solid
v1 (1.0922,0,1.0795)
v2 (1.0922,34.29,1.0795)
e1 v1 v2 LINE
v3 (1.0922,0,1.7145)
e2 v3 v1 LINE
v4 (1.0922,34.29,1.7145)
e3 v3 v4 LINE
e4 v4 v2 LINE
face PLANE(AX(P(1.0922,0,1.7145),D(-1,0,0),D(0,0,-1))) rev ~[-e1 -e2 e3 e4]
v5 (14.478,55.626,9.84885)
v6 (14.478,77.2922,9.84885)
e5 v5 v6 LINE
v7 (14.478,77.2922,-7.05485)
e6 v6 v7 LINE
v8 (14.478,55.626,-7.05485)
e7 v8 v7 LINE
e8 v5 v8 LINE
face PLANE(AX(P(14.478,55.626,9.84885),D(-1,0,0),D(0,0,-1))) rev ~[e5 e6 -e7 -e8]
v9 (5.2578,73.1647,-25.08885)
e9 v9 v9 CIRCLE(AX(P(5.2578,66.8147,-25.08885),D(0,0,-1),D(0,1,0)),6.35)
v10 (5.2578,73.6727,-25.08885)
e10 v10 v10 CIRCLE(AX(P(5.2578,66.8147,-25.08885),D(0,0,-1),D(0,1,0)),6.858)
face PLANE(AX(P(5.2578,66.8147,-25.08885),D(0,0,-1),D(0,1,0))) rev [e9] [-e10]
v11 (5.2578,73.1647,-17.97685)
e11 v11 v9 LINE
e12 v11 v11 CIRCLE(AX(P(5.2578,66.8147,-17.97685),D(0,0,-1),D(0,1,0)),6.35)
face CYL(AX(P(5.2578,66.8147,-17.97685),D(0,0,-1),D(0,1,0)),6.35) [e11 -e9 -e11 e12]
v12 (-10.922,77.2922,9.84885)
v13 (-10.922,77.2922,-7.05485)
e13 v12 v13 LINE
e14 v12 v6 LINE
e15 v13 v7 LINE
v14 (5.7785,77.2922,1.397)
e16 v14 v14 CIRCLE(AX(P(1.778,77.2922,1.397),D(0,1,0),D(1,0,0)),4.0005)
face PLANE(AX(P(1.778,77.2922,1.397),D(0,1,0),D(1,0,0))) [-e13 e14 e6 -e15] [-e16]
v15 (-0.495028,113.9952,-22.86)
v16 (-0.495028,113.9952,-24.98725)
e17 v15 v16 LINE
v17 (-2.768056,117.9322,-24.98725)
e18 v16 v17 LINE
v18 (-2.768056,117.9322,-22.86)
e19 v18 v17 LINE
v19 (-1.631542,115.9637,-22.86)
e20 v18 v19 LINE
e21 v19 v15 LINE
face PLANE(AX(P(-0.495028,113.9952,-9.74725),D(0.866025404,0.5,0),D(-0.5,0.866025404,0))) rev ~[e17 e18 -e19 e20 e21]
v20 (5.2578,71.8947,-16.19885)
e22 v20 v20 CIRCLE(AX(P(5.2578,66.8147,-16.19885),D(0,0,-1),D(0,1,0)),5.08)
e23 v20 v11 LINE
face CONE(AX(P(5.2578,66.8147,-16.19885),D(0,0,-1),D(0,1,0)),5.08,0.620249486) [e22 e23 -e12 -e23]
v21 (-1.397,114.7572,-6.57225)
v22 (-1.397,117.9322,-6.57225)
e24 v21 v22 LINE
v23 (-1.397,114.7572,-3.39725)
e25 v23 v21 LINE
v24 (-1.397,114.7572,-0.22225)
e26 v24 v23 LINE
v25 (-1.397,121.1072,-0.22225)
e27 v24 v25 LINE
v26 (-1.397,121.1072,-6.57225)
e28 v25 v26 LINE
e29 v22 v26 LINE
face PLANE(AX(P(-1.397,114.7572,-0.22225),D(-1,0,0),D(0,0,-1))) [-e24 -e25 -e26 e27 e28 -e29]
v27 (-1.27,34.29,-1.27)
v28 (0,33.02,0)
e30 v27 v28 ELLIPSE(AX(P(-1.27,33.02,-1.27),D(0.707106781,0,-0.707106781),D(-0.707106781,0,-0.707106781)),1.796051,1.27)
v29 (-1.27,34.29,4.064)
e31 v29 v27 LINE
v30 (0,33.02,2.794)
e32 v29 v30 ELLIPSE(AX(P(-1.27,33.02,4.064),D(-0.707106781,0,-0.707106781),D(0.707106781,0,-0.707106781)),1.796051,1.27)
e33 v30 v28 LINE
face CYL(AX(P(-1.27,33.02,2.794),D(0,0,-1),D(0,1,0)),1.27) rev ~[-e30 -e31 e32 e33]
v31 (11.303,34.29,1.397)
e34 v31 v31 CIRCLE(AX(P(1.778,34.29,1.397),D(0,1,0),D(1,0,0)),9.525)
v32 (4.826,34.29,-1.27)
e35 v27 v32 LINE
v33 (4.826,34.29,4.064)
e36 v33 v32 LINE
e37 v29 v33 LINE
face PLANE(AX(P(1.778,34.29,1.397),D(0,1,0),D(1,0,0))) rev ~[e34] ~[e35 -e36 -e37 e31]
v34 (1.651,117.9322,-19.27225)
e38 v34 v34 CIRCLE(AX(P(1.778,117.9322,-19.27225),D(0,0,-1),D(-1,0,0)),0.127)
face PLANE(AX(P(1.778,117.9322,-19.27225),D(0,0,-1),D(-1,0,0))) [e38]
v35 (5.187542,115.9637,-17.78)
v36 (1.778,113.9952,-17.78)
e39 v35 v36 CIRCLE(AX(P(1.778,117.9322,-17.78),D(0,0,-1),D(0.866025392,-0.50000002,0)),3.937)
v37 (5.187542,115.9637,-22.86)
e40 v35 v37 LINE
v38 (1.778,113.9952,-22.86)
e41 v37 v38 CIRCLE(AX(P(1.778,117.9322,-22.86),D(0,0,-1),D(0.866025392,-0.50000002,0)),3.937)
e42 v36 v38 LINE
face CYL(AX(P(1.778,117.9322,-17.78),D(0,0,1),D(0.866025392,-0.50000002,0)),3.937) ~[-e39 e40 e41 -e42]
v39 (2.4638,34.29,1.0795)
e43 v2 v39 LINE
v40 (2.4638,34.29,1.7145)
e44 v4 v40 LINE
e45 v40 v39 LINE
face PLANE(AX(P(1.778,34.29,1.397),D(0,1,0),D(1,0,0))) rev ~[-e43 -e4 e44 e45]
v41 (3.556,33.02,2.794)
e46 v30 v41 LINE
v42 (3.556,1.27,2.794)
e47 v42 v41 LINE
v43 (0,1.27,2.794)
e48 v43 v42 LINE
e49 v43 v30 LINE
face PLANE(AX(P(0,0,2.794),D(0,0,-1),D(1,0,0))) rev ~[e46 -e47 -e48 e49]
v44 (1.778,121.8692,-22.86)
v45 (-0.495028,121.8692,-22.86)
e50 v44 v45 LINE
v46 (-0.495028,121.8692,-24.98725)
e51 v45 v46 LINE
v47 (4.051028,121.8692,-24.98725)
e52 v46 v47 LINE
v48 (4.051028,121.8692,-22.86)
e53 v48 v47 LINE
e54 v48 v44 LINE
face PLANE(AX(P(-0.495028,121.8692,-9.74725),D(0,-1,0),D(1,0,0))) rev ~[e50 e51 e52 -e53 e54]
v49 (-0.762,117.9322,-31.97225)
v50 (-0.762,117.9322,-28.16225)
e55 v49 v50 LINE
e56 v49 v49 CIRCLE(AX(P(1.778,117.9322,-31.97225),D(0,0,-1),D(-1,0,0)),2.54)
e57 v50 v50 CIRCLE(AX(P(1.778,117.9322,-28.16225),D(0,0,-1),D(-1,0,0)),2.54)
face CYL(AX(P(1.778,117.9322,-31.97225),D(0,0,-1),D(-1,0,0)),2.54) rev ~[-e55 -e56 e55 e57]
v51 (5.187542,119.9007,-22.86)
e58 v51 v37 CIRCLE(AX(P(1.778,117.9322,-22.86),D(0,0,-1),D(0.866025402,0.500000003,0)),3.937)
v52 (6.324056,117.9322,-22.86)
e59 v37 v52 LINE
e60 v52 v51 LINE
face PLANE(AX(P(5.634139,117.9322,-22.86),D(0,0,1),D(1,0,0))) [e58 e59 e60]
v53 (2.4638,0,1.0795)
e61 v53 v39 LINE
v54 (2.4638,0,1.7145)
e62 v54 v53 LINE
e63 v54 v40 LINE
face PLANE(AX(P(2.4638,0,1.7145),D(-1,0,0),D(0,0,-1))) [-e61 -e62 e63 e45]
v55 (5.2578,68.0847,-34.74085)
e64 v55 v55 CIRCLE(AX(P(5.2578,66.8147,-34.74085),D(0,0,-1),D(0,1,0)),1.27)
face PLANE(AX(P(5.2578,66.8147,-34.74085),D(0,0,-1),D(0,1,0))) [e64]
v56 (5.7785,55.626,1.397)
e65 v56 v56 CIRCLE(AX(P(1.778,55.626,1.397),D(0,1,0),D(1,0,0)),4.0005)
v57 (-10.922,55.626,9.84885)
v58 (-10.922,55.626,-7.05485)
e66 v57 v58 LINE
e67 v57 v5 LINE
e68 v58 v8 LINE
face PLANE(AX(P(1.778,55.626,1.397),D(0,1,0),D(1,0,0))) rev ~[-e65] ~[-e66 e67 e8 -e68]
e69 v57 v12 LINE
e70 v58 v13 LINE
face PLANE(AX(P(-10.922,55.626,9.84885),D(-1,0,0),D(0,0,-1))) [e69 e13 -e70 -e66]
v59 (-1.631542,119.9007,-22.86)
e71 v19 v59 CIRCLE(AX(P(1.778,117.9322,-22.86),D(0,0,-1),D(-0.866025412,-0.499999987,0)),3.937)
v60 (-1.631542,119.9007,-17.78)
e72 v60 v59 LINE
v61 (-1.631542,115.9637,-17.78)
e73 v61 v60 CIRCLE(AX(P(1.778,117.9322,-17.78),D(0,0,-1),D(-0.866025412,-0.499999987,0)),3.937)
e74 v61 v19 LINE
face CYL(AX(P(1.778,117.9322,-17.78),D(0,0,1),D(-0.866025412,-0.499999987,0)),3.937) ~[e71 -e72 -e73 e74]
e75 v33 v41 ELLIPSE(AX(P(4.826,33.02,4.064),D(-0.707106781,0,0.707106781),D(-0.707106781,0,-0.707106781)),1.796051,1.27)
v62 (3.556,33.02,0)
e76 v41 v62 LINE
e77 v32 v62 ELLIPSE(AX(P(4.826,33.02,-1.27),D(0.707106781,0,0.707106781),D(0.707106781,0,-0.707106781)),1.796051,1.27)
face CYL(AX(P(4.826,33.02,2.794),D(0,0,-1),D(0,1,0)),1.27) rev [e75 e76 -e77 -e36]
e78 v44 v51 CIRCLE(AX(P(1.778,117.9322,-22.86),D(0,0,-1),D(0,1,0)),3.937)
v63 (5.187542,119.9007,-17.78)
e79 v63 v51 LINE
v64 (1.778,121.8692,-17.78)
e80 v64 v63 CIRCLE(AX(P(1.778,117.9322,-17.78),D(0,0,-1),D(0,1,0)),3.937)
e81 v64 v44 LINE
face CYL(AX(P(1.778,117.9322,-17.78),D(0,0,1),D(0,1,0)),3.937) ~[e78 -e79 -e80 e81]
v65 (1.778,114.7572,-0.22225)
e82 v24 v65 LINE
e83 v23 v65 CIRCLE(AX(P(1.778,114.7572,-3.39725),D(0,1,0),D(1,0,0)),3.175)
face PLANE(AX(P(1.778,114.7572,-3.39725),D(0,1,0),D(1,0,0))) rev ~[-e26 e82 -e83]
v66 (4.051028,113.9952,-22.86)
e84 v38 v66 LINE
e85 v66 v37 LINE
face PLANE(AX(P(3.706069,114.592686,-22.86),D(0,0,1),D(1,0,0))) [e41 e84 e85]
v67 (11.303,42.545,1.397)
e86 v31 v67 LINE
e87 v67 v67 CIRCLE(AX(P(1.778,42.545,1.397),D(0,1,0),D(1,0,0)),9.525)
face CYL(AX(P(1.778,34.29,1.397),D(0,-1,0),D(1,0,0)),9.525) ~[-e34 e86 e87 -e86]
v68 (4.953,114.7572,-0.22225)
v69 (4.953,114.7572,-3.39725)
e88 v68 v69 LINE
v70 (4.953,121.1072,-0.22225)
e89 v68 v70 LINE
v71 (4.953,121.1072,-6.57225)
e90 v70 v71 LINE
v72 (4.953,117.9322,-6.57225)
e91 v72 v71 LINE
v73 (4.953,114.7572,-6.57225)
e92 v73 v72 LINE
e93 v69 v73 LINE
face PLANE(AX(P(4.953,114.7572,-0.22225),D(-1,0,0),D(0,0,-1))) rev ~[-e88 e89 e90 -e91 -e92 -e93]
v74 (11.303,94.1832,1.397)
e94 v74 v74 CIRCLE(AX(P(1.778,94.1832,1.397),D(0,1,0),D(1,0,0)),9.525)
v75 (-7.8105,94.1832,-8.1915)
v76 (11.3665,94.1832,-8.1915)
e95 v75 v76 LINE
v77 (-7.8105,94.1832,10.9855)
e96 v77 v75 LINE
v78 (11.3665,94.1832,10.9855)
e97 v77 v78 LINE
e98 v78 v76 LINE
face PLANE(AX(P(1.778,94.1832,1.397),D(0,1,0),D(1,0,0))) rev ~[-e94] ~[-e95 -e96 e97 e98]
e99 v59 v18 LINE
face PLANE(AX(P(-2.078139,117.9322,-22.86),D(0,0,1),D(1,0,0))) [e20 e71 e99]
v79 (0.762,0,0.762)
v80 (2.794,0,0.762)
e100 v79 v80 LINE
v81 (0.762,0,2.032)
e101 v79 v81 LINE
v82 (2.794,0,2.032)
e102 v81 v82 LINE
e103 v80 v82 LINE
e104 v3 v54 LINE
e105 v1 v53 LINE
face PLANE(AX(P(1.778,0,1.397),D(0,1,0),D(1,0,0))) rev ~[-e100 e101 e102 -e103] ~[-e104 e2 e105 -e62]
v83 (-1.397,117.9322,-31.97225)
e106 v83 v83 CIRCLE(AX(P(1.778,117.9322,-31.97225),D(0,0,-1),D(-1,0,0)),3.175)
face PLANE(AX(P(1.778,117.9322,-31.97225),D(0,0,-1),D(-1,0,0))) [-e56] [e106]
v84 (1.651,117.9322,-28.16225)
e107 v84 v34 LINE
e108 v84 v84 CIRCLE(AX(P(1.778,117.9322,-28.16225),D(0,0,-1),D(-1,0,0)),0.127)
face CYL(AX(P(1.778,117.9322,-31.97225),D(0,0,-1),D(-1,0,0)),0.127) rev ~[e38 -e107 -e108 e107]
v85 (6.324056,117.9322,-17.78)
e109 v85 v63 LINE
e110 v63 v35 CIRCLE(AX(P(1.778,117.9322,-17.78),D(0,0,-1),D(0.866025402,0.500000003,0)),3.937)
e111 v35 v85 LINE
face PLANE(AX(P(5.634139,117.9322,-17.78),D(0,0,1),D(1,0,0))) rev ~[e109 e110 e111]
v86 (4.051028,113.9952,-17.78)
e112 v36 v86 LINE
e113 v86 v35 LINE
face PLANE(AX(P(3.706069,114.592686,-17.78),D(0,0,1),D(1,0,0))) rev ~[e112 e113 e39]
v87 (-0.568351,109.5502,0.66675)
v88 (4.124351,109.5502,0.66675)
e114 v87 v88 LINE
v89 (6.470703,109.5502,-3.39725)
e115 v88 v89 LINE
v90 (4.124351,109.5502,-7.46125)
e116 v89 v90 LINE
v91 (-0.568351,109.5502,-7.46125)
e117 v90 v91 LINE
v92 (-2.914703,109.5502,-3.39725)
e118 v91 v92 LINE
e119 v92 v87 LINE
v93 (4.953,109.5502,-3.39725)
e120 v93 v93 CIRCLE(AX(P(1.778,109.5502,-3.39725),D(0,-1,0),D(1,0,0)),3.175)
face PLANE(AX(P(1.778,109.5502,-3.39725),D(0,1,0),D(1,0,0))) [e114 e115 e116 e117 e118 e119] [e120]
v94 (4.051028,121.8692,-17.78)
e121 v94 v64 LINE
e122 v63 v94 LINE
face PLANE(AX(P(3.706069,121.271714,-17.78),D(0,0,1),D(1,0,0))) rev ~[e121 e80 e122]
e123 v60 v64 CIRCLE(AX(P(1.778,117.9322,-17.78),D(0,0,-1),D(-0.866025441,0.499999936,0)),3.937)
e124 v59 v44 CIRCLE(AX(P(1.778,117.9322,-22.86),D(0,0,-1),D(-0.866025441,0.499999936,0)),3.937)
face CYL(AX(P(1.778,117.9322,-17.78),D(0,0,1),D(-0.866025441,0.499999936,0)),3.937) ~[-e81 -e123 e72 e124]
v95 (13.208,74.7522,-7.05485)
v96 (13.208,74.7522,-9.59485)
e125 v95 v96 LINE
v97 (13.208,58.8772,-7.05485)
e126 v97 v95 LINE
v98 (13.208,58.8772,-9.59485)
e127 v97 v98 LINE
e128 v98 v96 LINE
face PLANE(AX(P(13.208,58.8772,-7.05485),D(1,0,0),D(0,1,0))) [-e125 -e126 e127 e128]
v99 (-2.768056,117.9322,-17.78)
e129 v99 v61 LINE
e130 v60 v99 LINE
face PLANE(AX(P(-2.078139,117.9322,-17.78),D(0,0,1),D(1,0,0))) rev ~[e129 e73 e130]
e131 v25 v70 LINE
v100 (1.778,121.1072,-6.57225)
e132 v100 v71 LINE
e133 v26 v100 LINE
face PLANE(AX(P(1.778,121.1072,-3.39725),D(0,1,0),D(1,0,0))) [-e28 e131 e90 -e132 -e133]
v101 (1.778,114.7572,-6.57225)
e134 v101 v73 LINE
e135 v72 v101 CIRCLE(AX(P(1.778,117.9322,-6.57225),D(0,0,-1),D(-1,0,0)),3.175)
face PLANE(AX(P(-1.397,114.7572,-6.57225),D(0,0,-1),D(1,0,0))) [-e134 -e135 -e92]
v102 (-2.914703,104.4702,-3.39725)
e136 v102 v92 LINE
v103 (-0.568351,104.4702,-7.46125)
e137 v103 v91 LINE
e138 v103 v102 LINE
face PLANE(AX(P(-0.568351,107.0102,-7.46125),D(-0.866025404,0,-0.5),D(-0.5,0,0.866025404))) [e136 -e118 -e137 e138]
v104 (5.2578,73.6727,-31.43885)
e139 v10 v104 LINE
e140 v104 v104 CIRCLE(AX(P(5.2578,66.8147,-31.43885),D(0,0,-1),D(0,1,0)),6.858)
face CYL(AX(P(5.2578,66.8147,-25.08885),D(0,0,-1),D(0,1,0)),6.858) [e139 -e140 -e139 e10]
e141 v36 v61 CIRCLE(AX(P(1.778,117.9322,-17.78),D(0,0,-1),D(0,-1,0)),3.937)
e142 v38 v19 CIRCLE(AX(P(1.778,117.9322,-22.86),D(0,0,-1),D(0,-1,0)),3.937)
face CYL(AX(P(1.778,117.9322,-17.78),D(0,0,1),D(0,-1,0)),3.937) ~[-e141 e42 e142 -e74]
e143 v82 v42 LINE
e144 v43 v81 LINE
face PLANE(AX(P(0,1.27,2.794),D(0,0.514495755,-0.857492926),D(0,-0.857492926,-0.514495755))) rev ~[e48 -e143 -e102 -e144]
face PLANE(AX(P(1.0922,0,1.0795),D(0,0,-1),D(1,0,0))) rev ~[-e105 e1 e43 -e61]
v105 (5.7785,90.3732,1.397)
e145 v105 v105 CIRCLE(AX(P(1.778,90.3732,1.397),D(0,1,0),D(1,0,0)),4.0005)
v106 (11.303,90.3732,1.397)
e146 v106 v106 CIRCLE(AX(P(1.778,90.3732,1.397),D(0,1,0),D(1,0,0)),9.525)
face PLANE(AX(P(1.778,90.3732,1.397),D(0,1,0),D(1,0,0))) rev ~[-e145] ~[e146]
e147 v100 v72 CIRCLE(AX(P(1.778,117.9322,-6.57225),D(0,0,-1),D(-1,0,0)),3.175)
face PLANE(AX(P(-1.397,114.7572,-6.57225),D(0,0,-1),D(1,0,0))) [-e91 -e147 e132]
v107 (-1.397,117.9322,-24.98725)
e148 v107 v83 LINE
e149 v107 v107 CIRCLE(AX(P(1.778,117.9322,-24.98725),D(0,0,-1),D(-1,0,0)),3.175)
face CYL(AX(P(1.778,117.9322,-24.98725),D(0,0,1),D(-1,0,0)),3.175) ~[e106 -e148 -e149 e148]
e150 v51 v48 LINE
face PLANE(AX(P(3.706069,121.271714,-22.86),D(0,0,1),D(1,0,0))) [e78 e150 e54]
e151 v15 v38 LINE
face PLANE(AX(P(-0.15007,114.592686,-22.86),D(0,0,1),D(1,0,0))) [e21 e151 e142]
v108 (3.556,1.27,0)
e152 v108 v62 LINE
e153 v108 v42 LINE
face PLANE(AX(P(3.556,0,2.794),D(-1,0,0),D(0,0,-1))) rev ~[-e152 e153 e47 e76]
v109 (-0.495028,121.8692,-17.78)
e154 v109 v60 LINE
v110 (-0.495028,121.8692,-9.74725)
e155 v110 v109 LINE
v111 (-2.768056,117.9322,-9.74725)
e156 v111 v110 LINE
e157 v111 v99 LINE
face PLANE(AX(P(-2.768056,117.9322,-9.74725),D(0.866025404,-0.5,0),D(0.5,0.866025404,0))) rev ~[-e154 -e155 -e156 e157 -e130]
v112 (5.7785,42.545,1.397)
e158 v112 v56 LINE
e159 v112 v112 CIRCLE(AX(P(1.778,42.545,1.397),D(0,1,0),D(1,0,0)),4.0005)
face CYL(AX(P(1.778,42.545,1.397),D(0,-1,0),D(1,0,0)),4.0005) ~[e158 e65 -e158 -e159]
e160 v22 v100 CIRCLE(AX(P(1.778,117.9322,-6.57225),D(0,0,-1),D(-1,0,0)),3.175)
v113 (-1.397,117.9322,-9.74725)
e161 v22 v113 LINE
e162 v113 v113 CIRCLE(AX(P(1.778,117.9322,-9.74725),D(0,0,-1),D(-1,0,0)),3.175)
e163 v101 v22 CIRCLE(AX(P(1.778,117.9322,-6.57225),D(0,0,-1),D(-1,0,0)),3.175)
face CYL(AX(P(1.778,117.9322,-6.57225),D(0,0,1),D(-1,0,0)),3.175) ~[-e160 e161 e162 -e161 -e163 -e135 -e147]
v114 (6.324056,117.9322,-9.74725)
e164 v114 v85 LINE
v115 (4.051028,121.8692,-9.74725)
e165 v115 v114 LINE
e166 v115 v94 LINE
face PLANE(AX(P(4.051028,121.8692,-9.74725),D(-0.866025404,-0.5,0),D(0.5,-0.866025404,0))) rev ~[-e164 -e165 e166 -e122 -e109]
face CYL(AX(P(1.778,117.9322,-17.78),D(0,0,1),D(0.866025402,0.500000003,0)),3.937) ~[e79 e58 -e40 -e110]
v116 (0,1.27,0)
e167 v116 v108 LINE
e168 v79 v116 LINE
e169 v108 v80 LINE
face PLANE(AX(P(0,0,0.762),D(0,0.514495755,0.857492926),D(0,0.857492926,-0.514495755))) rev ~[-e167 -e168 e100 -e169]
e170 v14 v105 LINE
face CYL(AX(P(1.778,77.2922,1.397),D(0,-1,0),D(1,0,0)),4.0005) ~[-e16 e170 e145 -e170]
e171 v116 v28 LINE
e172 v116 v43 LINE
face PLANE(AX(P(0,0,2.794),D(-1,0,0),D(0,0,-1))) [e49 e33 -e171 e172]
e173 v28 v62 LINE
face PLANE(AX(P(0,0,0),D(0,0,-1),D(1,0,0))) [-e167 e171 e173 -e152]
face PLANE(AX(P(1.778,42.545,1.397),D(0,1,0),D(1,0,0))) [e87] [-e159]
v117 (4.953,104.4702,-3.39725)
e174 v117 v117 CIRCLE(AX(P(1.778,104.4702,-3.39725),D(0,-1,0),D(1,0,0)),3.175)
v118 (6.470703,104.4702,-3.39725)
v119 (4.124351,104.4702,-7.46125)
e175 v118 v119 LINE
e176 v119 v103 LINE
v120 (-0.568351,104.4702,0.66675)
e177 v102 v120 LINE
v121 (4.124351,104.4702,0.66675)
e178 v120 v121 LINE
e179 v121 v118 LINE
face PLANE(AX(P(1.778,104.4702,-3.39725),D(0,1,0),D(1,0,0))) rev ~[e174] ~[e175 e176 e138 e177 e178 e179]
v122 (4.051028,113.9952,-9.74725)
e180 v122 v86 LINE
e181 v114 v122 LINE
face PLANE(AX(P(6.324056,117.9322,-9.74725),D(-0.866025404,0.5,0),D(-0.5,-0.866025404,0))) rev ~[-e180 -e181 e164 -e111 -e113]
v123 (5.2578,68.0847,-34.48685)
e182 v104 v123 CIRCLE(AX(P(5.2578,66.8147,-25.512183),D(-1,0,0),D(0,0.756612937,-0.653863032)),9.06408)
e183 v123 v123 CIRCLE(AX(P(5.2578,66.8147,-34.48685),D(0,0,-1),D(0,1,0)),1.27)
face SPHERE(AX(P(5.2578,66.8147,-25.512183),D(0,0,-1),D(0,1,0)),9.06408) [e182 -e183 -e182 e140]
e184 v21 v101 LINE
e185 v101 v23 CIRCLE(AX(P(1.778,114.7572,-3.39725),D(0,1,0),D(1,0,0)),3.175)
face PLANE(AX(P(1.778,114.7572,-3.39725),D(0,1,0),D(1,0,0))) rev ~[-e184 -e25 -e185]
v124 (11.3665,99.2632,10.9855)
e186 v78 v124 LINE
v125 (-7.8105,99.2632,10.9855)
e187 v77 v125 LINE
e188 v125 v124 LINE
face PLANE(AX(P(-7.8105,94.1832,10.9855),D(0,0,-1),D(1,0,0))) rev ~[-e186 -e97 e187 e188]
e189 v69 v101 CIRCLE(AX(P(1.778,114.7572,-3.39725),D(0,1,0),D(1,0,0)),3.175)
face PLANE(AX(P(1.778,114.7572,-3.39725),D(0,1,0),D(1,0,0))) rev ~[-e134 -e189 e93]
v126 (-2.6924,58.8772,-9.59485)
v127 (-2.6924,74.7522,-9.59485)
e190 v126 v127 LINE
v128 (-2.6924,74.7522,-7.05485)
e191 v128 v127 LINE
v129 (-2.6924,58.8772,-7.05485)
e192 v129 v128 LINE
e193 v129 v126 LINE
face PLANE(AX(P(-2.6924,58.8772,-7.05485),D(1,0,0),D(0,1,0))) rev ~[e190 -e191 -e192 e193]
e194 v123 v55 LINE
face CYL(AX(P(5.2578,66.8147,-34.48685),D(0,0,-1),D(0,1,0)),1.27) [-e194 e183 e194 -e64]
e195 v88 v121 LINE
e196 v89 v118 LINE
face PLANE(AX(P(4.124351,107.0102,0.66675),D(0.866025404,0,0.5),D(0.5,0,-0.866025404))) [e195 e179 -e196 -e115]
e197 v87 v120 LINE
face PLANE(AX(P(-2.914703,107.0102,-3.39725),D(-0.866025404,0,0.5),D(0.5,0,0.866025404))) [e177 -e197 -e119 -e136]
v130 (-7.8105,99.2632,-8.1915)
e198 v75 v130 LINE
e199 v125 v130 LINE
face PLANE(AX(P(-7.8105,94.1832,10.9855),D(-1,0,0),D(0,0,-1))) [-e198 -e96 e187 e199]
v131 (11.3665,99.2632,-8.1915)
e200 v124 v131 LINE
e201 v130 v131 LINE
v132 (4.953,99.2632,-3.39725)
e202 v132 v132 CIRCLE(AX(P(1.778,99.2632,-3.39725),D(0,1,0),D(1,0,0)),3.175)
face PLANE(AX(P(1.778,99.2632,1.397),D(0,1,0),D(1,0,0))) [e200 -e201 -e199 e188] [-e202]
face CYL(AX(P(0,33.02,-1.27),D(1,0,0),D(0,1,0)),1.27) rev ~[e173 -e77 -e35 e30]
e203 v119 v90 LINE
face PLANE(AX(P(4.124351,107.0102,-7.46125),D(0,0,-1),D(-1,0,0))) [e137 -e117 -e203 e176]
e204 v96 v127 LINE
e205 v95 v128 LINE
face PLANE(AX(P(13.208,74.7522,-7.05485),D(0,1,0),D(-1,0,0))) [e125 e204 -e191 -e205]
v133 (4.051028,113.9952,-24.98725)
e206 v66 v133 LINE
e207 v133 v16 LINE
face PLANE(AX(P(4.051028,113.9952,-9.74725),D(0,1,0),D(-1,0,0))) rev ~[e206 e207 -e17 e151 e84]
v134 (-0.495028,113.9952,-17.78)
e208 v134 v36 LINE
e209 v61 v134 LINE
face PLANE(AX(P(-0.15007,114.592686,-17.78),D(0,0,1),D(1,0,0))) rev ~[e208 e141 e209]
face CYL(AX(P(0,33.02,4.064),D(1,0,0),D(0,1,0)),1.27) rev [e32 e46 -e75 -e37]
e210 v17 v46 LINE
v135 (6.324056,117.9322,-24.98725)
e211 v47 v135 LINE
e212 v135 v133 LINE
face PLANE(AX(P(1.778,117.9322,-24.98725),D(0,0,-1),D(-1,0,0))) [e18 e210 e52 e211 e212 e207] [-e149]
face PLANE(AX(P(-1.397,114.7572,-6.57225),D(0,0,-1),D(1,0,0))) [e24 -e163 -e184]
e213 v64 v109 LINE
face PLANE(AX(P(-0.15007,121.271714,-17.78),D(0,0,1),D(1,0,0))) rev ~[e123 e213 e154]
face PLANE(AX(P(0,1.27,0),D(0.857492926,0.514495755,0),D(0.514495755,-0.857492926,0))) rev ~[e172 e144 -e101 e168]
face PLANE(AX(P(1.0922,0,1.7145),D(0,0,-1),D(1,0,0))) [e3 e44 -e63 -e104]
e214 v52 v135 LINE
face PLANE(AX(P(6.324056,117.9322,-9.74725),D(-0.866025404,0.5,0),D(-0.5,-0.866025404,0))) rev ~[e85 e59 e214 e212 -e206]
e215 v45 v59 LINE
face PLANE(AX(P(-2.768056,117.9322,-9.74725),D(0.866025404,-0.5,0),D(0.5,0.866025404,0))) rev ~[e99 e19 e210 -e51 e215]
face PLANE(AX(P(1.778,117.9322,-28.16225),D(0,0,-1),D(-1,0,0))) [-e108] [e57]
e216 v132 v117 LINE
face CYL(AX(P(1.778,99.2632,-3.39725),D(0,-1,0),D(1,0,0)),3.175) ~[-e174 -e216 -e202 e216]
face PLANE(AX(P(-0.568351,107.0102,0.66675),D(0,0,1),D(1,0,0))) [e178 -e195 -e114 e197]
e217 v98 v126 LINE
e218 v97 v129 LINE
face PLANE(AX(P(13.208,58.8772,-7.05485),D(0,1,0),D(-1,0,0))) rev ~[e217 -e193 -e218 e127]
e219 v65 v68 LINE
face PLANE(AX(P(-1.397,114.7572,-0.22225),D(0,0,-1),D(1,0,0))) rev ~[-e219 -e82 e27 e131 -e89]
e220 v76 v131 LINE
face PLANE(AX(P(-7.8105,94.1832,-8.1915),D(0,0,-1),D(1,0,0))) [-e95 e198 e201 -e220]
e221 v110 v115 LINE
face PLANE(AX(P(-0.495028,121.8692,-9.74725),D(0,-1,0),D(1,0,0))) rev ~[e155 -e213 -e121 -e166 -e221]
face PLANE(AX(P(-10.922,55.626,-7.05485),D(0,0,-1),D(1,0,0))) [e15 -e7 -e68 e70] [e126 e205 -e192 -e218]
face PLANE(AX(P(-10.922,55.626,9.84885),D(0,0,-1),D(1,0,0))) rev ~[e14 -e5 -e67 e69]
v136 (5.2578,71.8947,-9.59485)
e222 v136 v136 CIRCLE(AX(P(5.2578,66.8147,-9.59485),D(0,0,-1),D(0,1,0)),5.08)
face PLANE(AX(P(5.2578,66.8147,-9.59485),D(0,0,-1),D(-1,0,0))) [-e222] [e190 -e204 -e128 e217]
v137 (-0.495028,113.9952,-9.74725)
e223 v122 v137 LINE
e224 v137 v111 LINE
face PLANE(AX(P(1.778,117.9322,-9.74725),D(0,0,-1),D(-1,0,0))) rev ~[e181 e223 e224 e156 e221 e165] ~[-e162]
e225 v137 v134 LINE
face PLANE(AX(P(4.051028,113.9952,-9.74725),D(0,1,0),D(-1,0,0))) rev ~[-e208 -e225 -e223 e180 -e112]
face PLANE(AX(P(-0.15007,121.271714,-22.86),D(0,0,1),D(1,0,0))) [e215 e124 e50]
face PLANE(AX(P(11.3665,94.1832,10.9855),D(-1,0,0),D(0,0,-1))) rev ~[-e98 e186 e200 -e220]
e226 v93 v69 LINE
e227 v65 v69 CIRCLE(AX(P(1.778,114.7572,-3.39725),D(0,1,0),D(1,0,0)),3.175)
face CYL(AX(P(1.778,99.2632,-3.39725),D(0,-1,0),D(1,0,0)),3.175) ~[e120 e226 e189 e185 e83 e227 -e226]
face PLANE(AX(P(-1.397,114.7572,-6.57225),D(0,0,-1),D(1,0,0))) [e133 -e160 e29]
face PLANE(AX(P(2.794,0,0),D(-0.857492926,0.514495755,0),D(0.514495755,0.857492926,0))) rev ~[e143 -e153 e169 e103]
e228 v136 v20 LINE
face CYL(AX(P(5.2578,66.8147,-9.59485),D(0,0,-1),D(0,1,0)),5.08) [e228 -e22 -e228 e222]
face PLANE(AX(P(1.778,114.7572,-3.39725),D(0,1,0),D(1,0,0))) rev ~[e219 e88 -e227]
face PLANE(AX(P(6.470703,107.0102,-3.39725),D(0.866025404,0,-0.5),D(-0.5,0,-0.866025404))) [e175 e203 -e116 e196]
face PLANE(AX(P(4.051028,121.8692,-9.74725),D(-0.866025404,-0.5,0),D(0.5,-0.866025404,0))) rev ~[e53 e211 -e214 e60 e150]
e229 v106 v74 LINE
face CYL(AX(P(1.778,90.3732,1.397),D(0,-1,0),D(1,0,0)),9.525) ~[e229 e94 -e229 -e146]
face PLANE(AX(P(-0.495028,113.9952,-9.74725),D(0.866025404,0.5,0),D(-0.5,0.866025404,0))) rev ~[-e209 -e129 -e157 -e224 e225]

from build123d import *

# Parameters (mm, degrees)
SKETCH1_W            = 3.556
SKETCH1_H            = 2.794
SKETCH1_W_2          = 1.3716
SKETCH1_H_2          = 0.635
BOSS_EXTRUDE1_DEPTH  = 34.29
SKETCH2_R            = 9.525
BOSS_EXTRUDE2_DEPTH  = 8.255
SKETCH3_R            = 4.0005
BOSS_EXTRUDE3_DEPTH  = 13.081
SKETCH4_W            = 25.4
SKETCH4_H            = 16.9037
BOSS_EXTRUDE4_DEPTH  = 21.6662
SKETCH5_R            = 4.0005
BOSS_EXTRUDE5_DEPTH  = 13.081
SKETCH6_R            = 9.525
BOSS_EXTRUDE6_DEPTH  = 3.81
SKETCH7_W            = 19.177
SKETCH7_H            = 19.177
BOSS_EXTRUDE7_DEPTH  = 5.08
SKETCH8_R            = 3.175
BOSS_EXTRUDE8_DEPTH  = 15.494
SKETCH9_W            = 6.35
SKETCH9_H            = 6.35
BOSS_EXTRUDE9_DEPTH  = 6.35
SKETCH10_R           = 3.175
BOSS_EXTRUDE10_DEPTH = 3.175
BOSS_EXTRUDE11_DEPTH = 15.24
SKETCH12_R           = 3.175
BOSS_EXTRUDE12_DEPTH = 6.985
SKETCH13_W           = 15.9004
SKETCH13_H           = 15.875
BOSS_EXTRUDE13_DEPTH = 2.54
BOSS_EXTRUDE15_DEPTH = 2.54
CUT_EXTRUDE1_DEPTH   = 15
CUT_EXTRUDE2_DEPTH   = 15
FILLET1_R            = 1.27
SKETCH22_R           = 2.54
SKETCH22_R_2         = 0.127
CUT_EXTRUDE3_DEPTH   = 3.81
SKETCH22_3_R         = 0.127
CUT_EXTRUDE4_DEPTH   = 12.7
CUT_EXTRUDE7_DEPTH   = 5.08


with BuildPart() as part:
    # Sketch1 → Boss-Extrude1 (new body)
    with BuildSketch(Plane(origin=(0, 0, 0), x_dir=(1, 0, 0), z_dir=(0, 1, 0))):
        with Locations((1.778, -1.397)):
            Rectangle(SKETCH1_W, SKETCH1_H)
        with Locations((1.778, -1.397)):
            Rectangle(SKETCH1_W_2, SKETCH1_H_2, mode=Mode.SUBTRACT)
    extrude(amount=BOSS_EXTRUDE1_DEPTH)

    # Sketch2 → Boss-Extrude2 (add)
    with BuildSketch(Plane(origin=(0, 34.29, 0), x_dir=(1, 0, 0), z_dir=(0, 1, 0))):
        with Locations((1.778, -1.397)):
            Circle(SKETCH2_R)
    extrude(amount=BOSS_EXTRUDE2_DEPTH)

    # Sketch3 → Boss-Extrude3 (add)
    with BuildSketch(Plane(origin=(0, 42.545, 0), x_dir=(1, 0, 0), z_dir=(0, 1, 0))):
        with Locations((1.778, -1.397)):
            Circle(SKETCH3_R)
    extrude(amount=BOSS_EXTRUDE3_DEPTH)

    # Sketch4 → Boss-Extrude4 (add)
    with BuildSketch(Plane(origin=(0, 55.626, 0), x_dir=(1, 0, 0), z_dir=(0, 1, 0))):
        with Locations((1.778, -1.397)):
            Rectangle(SKETCH4_W, SKETCH4_H)
    extrude(amount=BOSS_EXTRUDE4_DEPTH)

    # Sketch5 → Boss-Extrude5 (add)
    with BuildSketch(Plane(origin=(0, 77.2922, 0), x_dir=(1, 0, 0), z_dir=(0, 1, 0))):
        with Locations((1.778, -1.397)):
            Circle(SKETCH5_R)
    extrude(amount=BOSS_EXTRUDE5_DEPTH)

    # Sketch6 → Boss-Extrude6 (add)
    with BuildSketch(Plane(origin=(0, 90.3732, 0), x_dir=(1, 0, 0), z_dir=(0, 1, 0))):
        with Locations((1.778, -1.397)):
            Circle(SKETCH6_R)
    extrude(amount=BOSS_EXTRUDE6_DEPTH)

    # Sketch7 → Boss-Extrude7 (add)
    with BuildSketch(Plane(origin=(0, 94.1832, 0), x_dir=(1, 0, 0), z_dir=(0, 1, 0))):
        with Locations((1.778, -1.397)):
            Rectangle(SKETCH7_W, SKETCH7_H)
    extrude(amount=BOSS_EXTRUDE7_DEPTH)

    # Sketch8 → Boss-Extrude8 (add)
    with BuildSketch(Plane(origin=(0, 99.2632, 0), x_dir=(1, 0, 0), z_dir=(0, 1, 0))):
        with Locations((1.778, 3.39725)):
            Circle(SKETCH8_R)
    extrude(amount=BOSS_EXTRUDE8_DEPTH)

    # Sketch9 → Boss-Extrude9 (add)
    with BuildSketch(Plane(origin=(0, 114.7572, 0), x_dir=(1, 0, 0), z_dir=(0, 1, 0))):
        with Locations((1.778, 3.39725)):
            Rectangle(SKETCH9_W, SKETCH9_H)
    extrude(amount=BOSS_EXTRUDE9_DEPTH)

    # Sketch10 → Boss-Extrude10 (add)
    with BuildSketch(Plane(origin=(0, 0, -6.57225), x_dir=(-1, 0, 0), z_dir=(0, 0, -1))):
        with Locations((-1.778, 117.9322)):
            Circle(SKETCH10_R)
    extrude(amount=BOSS_EXTRUDE10_DEPTH)

    # Sketch11 → Boss-Extrude11 (add)
    with BuildSketch(Plane(origin=(0, 0, -9.74725), x_dir=(-1, 0, 0), z_dir=(0, 0, -1))):
        Polygon((0.49502801, 113.9952), (2.76805602, 117.9322), (0.49502801, 121.8692), (-4.05102801, 121.8692), (-6.32405602, 117.9322), (-4.05102801, 113.9952), align=None)
    extrude(amount=BOSS_EXTRUDE11_DEPTH)

    # Sketch12 → Boss-Extrude12 (add)
    with BuildSketch(Plane(origin=(0, 0, -24.98725), x_dir=(-1, 0, 0), z_dir=(0, 0, -1))):
        with Locations((-1.778, 117.9322)):
            Circle(SKETCH12_R)
    extrude(amount=BOSS_EXTRUDE12_DEPTH)

    # Sketch13 → Boss-Extrude13 (add)
    with BuildSketch(Plane(origin=(0, 0, -7.05485), x_dir=(-1, 0, 0), z_dir=(0, 0, -1))):
        with Locations((-5.2578, 66.8147)):
            Rectangle(SKETCH13_W, SKETCH13_H)
    extrude(amount=BOSS_EXTRUDE13_DEPTH)

    # Sketch16 → Revolve1 (revolve)
    with BuildSketch(Plane(origin=(5.2578, 0, 0), x_dir=(0, 0, -1), z_dir=(1, 0, 0))):
        with BuildLine():
            Line((9.59485, 66.8147), (9.59485, 71.8947))
            Line((9.59485, 71.8947), (16.19885, 71.8947))
            Line((16.19885, 71.8947), (17.97685, 73.1647))
            Line((17.97685, 73.1647), (25.08885, 73.1647))
            Line((25.08885, 73.1647), (25.08885, 73.6727))
            Line((25.08885, 73.6727), (31.43885, 73.6727))
            ThreePointArc((31.43885, 73.6727), (33.469498821, 71.155053903), (34.48685, 68.0847))
            Line((34.48685, 68.0847), (34.74085, 68.0847))
            Line((34.74085, 68.0847), (34.74085, 66.8147))
            Line((34.74085, 66.8147), (9.59485, 66.8147))
        make_face()
    revolve(axis=Axis((5.2578, 66.8147, -9.59485), (0, 0, -1)))

    # Sketch17 → Boss-Extrude15 (add, symmetric)
    with BuildSketch(Plane(origin=(0, 107.0102, 0), x_dir=(1, 0, 0), z_dir=(0, 1, 0))):
        Polygon((6.470702988, 3.39725), (4.124351494, 7.46125), (-0.568351494, 7.46125), (-2.914702988, 3.39725), (-0.568351494, -0.66675), (4.124351494, -0.66675), align=None)
    extrude(amount=BOSS_EXTRUDE15_DEPTH, both=True)

    # Sketch20 → Cut-Extrude1 (cut)
    with BuildSketch(Plane.ZY):
        Polygon((0, 0), (0.762, 0), (0, 1.27), align=None)
        Polygon((2.794, 0), (2.794, 1.27), (2.032, 0), align=None)
    extrude(amount=-CUT_EXTRUDE1_DEPTH, mode=Mode.SUBTRACT)

    # Sketch21 → Cut-Extrude2 (cut)
    with BuildSketch(Plane(origin=(0, 0, 0), x_dir=(-1, 0, 0), z_dir=(0, 0, -1))):
        Polygon((-3.556, 1.27), (-3.556, 0), (-2.794, 0), align=None)
        Polygon((0, 1.27), (-0.762, 0), (0, 0), align=None)
    extrude(amount=-CUT_EXTRUDE2_DEPTH, mode=Mode.SUBTRACT)

    # Fillet1
    fillet1_edges = [part.edges().sort_by_distance(p)[0] for p in [
        (3.556, 34.29, 1.397),
        (1.778, 34.29, 2.794),
        (0, 34.29, 1.397),
        (1.778, 34.29, 0),
    ]]
    fillet(fillet1_edges, radius=FILLET1_R)

    # Sketch22 → Cut-Extrude3 (cut)
    with BuildSketch(Plane(origin=(0, 0, -31.97225), x_dir=(-1, 0, 0), z_dir=(0, 0, -1))):
        with Locations((-1.778, 117.9322)):
            Circle(SKETCH22_R)
        with Locations((-1.778, 117.9322)):
            Circle(SKETCH22_R_2, mode=Mode.SUBTRACT)
    extrude(amount=-CUT_EXTRUDE3_DEPTH, mode=Mode.SUBTRACT)

    # Sketch22<3> → Cut-Extrude4 (cut)
    with BuildSketch(Plane(origin=(0, 0, -31.97225), x_dir=(-1, 0, 0), z_dir=(0, 0, -1))):
        with Locations((-1.778, 117.9322)):
            Circle(SKETCH22_3_R)
    extrude(amount=-CUT_EXTRUDE4_DEPTH, mode=Mode.SUBTRACT)

    # Sketch25 → Cut-Extrude7 (cut)
    with BuildSketch(Plane.XY.offset(-17.78)):
        with BuildLine():
            Line((-1.63154216, 119.900699749), (-2.76805602, 117.9322))
            Line((-2.76805602, 117.9322), (-1.631542045, 115.963700052))
            ThreePointArc((-1.631542045, 115.963700052), (-2.159, 117.932199885), (-1.63154216, 119.900699749))
        make_face()
        with BuildLine():
            ThreePointArc((1.778, 113.9952), (-0.190500026, 114.522658), (-1.631542045, 115.963700052))
            Line((-1.631542045, 115.963700052), (-0.49502801, 113.9952))
            Line((-0.49502801, 113.9952), (1.778, 113.9952))
        make_face()
        with BuildLine():
            Line((-0.49502801, 121.8692), (-1.63154216, 119.900699749))
            ThreePointArc((-1.63154216, 119.900699749), (-0.190500126, 121.341741942), (1.778, 121.8692))
            Line((1.778, 121.8692), (-0.49502801, 121.8692))
        make_face()
        with BuildLine():
            ThreePointArc((5.18754197, 115.963699923), (3.746499961, 114.522657963), (1.778, 113.9952))
            Line((1.778, 113.9952), (4.05102801, 113.9952))
            Line((4.05102801, 113.9952), (5.18754197, 115.963699923))
        make_face()
        with BuildLine():
            Line((4.05102801, 121.8692), (1.778, 121.8692))
            ThreePointArc((1.778, 121.8692), (3.746499994, 121.341742018), (5.187542007, 119.900700013))
            Line((5.187542007, 119.900700013), (4.05102801, 121.8692))
        make_face()
        with BuildLine():
            ThreePointArc((5.187542007, 119.900700013), (5.715, 117.932199963), (5.18754197, 115.963699923))
            Line((5.18754197, 115.963699923), (6.32405602, 117.9322))
            Line((6.32405602, 117.9322), (5.187542007, 119.900700013))
        make_face()
    extrude(amount=-CUT_EXTRUDE7_DEPTH, mode=Mode.SUBTRACT)


solid = part.part
